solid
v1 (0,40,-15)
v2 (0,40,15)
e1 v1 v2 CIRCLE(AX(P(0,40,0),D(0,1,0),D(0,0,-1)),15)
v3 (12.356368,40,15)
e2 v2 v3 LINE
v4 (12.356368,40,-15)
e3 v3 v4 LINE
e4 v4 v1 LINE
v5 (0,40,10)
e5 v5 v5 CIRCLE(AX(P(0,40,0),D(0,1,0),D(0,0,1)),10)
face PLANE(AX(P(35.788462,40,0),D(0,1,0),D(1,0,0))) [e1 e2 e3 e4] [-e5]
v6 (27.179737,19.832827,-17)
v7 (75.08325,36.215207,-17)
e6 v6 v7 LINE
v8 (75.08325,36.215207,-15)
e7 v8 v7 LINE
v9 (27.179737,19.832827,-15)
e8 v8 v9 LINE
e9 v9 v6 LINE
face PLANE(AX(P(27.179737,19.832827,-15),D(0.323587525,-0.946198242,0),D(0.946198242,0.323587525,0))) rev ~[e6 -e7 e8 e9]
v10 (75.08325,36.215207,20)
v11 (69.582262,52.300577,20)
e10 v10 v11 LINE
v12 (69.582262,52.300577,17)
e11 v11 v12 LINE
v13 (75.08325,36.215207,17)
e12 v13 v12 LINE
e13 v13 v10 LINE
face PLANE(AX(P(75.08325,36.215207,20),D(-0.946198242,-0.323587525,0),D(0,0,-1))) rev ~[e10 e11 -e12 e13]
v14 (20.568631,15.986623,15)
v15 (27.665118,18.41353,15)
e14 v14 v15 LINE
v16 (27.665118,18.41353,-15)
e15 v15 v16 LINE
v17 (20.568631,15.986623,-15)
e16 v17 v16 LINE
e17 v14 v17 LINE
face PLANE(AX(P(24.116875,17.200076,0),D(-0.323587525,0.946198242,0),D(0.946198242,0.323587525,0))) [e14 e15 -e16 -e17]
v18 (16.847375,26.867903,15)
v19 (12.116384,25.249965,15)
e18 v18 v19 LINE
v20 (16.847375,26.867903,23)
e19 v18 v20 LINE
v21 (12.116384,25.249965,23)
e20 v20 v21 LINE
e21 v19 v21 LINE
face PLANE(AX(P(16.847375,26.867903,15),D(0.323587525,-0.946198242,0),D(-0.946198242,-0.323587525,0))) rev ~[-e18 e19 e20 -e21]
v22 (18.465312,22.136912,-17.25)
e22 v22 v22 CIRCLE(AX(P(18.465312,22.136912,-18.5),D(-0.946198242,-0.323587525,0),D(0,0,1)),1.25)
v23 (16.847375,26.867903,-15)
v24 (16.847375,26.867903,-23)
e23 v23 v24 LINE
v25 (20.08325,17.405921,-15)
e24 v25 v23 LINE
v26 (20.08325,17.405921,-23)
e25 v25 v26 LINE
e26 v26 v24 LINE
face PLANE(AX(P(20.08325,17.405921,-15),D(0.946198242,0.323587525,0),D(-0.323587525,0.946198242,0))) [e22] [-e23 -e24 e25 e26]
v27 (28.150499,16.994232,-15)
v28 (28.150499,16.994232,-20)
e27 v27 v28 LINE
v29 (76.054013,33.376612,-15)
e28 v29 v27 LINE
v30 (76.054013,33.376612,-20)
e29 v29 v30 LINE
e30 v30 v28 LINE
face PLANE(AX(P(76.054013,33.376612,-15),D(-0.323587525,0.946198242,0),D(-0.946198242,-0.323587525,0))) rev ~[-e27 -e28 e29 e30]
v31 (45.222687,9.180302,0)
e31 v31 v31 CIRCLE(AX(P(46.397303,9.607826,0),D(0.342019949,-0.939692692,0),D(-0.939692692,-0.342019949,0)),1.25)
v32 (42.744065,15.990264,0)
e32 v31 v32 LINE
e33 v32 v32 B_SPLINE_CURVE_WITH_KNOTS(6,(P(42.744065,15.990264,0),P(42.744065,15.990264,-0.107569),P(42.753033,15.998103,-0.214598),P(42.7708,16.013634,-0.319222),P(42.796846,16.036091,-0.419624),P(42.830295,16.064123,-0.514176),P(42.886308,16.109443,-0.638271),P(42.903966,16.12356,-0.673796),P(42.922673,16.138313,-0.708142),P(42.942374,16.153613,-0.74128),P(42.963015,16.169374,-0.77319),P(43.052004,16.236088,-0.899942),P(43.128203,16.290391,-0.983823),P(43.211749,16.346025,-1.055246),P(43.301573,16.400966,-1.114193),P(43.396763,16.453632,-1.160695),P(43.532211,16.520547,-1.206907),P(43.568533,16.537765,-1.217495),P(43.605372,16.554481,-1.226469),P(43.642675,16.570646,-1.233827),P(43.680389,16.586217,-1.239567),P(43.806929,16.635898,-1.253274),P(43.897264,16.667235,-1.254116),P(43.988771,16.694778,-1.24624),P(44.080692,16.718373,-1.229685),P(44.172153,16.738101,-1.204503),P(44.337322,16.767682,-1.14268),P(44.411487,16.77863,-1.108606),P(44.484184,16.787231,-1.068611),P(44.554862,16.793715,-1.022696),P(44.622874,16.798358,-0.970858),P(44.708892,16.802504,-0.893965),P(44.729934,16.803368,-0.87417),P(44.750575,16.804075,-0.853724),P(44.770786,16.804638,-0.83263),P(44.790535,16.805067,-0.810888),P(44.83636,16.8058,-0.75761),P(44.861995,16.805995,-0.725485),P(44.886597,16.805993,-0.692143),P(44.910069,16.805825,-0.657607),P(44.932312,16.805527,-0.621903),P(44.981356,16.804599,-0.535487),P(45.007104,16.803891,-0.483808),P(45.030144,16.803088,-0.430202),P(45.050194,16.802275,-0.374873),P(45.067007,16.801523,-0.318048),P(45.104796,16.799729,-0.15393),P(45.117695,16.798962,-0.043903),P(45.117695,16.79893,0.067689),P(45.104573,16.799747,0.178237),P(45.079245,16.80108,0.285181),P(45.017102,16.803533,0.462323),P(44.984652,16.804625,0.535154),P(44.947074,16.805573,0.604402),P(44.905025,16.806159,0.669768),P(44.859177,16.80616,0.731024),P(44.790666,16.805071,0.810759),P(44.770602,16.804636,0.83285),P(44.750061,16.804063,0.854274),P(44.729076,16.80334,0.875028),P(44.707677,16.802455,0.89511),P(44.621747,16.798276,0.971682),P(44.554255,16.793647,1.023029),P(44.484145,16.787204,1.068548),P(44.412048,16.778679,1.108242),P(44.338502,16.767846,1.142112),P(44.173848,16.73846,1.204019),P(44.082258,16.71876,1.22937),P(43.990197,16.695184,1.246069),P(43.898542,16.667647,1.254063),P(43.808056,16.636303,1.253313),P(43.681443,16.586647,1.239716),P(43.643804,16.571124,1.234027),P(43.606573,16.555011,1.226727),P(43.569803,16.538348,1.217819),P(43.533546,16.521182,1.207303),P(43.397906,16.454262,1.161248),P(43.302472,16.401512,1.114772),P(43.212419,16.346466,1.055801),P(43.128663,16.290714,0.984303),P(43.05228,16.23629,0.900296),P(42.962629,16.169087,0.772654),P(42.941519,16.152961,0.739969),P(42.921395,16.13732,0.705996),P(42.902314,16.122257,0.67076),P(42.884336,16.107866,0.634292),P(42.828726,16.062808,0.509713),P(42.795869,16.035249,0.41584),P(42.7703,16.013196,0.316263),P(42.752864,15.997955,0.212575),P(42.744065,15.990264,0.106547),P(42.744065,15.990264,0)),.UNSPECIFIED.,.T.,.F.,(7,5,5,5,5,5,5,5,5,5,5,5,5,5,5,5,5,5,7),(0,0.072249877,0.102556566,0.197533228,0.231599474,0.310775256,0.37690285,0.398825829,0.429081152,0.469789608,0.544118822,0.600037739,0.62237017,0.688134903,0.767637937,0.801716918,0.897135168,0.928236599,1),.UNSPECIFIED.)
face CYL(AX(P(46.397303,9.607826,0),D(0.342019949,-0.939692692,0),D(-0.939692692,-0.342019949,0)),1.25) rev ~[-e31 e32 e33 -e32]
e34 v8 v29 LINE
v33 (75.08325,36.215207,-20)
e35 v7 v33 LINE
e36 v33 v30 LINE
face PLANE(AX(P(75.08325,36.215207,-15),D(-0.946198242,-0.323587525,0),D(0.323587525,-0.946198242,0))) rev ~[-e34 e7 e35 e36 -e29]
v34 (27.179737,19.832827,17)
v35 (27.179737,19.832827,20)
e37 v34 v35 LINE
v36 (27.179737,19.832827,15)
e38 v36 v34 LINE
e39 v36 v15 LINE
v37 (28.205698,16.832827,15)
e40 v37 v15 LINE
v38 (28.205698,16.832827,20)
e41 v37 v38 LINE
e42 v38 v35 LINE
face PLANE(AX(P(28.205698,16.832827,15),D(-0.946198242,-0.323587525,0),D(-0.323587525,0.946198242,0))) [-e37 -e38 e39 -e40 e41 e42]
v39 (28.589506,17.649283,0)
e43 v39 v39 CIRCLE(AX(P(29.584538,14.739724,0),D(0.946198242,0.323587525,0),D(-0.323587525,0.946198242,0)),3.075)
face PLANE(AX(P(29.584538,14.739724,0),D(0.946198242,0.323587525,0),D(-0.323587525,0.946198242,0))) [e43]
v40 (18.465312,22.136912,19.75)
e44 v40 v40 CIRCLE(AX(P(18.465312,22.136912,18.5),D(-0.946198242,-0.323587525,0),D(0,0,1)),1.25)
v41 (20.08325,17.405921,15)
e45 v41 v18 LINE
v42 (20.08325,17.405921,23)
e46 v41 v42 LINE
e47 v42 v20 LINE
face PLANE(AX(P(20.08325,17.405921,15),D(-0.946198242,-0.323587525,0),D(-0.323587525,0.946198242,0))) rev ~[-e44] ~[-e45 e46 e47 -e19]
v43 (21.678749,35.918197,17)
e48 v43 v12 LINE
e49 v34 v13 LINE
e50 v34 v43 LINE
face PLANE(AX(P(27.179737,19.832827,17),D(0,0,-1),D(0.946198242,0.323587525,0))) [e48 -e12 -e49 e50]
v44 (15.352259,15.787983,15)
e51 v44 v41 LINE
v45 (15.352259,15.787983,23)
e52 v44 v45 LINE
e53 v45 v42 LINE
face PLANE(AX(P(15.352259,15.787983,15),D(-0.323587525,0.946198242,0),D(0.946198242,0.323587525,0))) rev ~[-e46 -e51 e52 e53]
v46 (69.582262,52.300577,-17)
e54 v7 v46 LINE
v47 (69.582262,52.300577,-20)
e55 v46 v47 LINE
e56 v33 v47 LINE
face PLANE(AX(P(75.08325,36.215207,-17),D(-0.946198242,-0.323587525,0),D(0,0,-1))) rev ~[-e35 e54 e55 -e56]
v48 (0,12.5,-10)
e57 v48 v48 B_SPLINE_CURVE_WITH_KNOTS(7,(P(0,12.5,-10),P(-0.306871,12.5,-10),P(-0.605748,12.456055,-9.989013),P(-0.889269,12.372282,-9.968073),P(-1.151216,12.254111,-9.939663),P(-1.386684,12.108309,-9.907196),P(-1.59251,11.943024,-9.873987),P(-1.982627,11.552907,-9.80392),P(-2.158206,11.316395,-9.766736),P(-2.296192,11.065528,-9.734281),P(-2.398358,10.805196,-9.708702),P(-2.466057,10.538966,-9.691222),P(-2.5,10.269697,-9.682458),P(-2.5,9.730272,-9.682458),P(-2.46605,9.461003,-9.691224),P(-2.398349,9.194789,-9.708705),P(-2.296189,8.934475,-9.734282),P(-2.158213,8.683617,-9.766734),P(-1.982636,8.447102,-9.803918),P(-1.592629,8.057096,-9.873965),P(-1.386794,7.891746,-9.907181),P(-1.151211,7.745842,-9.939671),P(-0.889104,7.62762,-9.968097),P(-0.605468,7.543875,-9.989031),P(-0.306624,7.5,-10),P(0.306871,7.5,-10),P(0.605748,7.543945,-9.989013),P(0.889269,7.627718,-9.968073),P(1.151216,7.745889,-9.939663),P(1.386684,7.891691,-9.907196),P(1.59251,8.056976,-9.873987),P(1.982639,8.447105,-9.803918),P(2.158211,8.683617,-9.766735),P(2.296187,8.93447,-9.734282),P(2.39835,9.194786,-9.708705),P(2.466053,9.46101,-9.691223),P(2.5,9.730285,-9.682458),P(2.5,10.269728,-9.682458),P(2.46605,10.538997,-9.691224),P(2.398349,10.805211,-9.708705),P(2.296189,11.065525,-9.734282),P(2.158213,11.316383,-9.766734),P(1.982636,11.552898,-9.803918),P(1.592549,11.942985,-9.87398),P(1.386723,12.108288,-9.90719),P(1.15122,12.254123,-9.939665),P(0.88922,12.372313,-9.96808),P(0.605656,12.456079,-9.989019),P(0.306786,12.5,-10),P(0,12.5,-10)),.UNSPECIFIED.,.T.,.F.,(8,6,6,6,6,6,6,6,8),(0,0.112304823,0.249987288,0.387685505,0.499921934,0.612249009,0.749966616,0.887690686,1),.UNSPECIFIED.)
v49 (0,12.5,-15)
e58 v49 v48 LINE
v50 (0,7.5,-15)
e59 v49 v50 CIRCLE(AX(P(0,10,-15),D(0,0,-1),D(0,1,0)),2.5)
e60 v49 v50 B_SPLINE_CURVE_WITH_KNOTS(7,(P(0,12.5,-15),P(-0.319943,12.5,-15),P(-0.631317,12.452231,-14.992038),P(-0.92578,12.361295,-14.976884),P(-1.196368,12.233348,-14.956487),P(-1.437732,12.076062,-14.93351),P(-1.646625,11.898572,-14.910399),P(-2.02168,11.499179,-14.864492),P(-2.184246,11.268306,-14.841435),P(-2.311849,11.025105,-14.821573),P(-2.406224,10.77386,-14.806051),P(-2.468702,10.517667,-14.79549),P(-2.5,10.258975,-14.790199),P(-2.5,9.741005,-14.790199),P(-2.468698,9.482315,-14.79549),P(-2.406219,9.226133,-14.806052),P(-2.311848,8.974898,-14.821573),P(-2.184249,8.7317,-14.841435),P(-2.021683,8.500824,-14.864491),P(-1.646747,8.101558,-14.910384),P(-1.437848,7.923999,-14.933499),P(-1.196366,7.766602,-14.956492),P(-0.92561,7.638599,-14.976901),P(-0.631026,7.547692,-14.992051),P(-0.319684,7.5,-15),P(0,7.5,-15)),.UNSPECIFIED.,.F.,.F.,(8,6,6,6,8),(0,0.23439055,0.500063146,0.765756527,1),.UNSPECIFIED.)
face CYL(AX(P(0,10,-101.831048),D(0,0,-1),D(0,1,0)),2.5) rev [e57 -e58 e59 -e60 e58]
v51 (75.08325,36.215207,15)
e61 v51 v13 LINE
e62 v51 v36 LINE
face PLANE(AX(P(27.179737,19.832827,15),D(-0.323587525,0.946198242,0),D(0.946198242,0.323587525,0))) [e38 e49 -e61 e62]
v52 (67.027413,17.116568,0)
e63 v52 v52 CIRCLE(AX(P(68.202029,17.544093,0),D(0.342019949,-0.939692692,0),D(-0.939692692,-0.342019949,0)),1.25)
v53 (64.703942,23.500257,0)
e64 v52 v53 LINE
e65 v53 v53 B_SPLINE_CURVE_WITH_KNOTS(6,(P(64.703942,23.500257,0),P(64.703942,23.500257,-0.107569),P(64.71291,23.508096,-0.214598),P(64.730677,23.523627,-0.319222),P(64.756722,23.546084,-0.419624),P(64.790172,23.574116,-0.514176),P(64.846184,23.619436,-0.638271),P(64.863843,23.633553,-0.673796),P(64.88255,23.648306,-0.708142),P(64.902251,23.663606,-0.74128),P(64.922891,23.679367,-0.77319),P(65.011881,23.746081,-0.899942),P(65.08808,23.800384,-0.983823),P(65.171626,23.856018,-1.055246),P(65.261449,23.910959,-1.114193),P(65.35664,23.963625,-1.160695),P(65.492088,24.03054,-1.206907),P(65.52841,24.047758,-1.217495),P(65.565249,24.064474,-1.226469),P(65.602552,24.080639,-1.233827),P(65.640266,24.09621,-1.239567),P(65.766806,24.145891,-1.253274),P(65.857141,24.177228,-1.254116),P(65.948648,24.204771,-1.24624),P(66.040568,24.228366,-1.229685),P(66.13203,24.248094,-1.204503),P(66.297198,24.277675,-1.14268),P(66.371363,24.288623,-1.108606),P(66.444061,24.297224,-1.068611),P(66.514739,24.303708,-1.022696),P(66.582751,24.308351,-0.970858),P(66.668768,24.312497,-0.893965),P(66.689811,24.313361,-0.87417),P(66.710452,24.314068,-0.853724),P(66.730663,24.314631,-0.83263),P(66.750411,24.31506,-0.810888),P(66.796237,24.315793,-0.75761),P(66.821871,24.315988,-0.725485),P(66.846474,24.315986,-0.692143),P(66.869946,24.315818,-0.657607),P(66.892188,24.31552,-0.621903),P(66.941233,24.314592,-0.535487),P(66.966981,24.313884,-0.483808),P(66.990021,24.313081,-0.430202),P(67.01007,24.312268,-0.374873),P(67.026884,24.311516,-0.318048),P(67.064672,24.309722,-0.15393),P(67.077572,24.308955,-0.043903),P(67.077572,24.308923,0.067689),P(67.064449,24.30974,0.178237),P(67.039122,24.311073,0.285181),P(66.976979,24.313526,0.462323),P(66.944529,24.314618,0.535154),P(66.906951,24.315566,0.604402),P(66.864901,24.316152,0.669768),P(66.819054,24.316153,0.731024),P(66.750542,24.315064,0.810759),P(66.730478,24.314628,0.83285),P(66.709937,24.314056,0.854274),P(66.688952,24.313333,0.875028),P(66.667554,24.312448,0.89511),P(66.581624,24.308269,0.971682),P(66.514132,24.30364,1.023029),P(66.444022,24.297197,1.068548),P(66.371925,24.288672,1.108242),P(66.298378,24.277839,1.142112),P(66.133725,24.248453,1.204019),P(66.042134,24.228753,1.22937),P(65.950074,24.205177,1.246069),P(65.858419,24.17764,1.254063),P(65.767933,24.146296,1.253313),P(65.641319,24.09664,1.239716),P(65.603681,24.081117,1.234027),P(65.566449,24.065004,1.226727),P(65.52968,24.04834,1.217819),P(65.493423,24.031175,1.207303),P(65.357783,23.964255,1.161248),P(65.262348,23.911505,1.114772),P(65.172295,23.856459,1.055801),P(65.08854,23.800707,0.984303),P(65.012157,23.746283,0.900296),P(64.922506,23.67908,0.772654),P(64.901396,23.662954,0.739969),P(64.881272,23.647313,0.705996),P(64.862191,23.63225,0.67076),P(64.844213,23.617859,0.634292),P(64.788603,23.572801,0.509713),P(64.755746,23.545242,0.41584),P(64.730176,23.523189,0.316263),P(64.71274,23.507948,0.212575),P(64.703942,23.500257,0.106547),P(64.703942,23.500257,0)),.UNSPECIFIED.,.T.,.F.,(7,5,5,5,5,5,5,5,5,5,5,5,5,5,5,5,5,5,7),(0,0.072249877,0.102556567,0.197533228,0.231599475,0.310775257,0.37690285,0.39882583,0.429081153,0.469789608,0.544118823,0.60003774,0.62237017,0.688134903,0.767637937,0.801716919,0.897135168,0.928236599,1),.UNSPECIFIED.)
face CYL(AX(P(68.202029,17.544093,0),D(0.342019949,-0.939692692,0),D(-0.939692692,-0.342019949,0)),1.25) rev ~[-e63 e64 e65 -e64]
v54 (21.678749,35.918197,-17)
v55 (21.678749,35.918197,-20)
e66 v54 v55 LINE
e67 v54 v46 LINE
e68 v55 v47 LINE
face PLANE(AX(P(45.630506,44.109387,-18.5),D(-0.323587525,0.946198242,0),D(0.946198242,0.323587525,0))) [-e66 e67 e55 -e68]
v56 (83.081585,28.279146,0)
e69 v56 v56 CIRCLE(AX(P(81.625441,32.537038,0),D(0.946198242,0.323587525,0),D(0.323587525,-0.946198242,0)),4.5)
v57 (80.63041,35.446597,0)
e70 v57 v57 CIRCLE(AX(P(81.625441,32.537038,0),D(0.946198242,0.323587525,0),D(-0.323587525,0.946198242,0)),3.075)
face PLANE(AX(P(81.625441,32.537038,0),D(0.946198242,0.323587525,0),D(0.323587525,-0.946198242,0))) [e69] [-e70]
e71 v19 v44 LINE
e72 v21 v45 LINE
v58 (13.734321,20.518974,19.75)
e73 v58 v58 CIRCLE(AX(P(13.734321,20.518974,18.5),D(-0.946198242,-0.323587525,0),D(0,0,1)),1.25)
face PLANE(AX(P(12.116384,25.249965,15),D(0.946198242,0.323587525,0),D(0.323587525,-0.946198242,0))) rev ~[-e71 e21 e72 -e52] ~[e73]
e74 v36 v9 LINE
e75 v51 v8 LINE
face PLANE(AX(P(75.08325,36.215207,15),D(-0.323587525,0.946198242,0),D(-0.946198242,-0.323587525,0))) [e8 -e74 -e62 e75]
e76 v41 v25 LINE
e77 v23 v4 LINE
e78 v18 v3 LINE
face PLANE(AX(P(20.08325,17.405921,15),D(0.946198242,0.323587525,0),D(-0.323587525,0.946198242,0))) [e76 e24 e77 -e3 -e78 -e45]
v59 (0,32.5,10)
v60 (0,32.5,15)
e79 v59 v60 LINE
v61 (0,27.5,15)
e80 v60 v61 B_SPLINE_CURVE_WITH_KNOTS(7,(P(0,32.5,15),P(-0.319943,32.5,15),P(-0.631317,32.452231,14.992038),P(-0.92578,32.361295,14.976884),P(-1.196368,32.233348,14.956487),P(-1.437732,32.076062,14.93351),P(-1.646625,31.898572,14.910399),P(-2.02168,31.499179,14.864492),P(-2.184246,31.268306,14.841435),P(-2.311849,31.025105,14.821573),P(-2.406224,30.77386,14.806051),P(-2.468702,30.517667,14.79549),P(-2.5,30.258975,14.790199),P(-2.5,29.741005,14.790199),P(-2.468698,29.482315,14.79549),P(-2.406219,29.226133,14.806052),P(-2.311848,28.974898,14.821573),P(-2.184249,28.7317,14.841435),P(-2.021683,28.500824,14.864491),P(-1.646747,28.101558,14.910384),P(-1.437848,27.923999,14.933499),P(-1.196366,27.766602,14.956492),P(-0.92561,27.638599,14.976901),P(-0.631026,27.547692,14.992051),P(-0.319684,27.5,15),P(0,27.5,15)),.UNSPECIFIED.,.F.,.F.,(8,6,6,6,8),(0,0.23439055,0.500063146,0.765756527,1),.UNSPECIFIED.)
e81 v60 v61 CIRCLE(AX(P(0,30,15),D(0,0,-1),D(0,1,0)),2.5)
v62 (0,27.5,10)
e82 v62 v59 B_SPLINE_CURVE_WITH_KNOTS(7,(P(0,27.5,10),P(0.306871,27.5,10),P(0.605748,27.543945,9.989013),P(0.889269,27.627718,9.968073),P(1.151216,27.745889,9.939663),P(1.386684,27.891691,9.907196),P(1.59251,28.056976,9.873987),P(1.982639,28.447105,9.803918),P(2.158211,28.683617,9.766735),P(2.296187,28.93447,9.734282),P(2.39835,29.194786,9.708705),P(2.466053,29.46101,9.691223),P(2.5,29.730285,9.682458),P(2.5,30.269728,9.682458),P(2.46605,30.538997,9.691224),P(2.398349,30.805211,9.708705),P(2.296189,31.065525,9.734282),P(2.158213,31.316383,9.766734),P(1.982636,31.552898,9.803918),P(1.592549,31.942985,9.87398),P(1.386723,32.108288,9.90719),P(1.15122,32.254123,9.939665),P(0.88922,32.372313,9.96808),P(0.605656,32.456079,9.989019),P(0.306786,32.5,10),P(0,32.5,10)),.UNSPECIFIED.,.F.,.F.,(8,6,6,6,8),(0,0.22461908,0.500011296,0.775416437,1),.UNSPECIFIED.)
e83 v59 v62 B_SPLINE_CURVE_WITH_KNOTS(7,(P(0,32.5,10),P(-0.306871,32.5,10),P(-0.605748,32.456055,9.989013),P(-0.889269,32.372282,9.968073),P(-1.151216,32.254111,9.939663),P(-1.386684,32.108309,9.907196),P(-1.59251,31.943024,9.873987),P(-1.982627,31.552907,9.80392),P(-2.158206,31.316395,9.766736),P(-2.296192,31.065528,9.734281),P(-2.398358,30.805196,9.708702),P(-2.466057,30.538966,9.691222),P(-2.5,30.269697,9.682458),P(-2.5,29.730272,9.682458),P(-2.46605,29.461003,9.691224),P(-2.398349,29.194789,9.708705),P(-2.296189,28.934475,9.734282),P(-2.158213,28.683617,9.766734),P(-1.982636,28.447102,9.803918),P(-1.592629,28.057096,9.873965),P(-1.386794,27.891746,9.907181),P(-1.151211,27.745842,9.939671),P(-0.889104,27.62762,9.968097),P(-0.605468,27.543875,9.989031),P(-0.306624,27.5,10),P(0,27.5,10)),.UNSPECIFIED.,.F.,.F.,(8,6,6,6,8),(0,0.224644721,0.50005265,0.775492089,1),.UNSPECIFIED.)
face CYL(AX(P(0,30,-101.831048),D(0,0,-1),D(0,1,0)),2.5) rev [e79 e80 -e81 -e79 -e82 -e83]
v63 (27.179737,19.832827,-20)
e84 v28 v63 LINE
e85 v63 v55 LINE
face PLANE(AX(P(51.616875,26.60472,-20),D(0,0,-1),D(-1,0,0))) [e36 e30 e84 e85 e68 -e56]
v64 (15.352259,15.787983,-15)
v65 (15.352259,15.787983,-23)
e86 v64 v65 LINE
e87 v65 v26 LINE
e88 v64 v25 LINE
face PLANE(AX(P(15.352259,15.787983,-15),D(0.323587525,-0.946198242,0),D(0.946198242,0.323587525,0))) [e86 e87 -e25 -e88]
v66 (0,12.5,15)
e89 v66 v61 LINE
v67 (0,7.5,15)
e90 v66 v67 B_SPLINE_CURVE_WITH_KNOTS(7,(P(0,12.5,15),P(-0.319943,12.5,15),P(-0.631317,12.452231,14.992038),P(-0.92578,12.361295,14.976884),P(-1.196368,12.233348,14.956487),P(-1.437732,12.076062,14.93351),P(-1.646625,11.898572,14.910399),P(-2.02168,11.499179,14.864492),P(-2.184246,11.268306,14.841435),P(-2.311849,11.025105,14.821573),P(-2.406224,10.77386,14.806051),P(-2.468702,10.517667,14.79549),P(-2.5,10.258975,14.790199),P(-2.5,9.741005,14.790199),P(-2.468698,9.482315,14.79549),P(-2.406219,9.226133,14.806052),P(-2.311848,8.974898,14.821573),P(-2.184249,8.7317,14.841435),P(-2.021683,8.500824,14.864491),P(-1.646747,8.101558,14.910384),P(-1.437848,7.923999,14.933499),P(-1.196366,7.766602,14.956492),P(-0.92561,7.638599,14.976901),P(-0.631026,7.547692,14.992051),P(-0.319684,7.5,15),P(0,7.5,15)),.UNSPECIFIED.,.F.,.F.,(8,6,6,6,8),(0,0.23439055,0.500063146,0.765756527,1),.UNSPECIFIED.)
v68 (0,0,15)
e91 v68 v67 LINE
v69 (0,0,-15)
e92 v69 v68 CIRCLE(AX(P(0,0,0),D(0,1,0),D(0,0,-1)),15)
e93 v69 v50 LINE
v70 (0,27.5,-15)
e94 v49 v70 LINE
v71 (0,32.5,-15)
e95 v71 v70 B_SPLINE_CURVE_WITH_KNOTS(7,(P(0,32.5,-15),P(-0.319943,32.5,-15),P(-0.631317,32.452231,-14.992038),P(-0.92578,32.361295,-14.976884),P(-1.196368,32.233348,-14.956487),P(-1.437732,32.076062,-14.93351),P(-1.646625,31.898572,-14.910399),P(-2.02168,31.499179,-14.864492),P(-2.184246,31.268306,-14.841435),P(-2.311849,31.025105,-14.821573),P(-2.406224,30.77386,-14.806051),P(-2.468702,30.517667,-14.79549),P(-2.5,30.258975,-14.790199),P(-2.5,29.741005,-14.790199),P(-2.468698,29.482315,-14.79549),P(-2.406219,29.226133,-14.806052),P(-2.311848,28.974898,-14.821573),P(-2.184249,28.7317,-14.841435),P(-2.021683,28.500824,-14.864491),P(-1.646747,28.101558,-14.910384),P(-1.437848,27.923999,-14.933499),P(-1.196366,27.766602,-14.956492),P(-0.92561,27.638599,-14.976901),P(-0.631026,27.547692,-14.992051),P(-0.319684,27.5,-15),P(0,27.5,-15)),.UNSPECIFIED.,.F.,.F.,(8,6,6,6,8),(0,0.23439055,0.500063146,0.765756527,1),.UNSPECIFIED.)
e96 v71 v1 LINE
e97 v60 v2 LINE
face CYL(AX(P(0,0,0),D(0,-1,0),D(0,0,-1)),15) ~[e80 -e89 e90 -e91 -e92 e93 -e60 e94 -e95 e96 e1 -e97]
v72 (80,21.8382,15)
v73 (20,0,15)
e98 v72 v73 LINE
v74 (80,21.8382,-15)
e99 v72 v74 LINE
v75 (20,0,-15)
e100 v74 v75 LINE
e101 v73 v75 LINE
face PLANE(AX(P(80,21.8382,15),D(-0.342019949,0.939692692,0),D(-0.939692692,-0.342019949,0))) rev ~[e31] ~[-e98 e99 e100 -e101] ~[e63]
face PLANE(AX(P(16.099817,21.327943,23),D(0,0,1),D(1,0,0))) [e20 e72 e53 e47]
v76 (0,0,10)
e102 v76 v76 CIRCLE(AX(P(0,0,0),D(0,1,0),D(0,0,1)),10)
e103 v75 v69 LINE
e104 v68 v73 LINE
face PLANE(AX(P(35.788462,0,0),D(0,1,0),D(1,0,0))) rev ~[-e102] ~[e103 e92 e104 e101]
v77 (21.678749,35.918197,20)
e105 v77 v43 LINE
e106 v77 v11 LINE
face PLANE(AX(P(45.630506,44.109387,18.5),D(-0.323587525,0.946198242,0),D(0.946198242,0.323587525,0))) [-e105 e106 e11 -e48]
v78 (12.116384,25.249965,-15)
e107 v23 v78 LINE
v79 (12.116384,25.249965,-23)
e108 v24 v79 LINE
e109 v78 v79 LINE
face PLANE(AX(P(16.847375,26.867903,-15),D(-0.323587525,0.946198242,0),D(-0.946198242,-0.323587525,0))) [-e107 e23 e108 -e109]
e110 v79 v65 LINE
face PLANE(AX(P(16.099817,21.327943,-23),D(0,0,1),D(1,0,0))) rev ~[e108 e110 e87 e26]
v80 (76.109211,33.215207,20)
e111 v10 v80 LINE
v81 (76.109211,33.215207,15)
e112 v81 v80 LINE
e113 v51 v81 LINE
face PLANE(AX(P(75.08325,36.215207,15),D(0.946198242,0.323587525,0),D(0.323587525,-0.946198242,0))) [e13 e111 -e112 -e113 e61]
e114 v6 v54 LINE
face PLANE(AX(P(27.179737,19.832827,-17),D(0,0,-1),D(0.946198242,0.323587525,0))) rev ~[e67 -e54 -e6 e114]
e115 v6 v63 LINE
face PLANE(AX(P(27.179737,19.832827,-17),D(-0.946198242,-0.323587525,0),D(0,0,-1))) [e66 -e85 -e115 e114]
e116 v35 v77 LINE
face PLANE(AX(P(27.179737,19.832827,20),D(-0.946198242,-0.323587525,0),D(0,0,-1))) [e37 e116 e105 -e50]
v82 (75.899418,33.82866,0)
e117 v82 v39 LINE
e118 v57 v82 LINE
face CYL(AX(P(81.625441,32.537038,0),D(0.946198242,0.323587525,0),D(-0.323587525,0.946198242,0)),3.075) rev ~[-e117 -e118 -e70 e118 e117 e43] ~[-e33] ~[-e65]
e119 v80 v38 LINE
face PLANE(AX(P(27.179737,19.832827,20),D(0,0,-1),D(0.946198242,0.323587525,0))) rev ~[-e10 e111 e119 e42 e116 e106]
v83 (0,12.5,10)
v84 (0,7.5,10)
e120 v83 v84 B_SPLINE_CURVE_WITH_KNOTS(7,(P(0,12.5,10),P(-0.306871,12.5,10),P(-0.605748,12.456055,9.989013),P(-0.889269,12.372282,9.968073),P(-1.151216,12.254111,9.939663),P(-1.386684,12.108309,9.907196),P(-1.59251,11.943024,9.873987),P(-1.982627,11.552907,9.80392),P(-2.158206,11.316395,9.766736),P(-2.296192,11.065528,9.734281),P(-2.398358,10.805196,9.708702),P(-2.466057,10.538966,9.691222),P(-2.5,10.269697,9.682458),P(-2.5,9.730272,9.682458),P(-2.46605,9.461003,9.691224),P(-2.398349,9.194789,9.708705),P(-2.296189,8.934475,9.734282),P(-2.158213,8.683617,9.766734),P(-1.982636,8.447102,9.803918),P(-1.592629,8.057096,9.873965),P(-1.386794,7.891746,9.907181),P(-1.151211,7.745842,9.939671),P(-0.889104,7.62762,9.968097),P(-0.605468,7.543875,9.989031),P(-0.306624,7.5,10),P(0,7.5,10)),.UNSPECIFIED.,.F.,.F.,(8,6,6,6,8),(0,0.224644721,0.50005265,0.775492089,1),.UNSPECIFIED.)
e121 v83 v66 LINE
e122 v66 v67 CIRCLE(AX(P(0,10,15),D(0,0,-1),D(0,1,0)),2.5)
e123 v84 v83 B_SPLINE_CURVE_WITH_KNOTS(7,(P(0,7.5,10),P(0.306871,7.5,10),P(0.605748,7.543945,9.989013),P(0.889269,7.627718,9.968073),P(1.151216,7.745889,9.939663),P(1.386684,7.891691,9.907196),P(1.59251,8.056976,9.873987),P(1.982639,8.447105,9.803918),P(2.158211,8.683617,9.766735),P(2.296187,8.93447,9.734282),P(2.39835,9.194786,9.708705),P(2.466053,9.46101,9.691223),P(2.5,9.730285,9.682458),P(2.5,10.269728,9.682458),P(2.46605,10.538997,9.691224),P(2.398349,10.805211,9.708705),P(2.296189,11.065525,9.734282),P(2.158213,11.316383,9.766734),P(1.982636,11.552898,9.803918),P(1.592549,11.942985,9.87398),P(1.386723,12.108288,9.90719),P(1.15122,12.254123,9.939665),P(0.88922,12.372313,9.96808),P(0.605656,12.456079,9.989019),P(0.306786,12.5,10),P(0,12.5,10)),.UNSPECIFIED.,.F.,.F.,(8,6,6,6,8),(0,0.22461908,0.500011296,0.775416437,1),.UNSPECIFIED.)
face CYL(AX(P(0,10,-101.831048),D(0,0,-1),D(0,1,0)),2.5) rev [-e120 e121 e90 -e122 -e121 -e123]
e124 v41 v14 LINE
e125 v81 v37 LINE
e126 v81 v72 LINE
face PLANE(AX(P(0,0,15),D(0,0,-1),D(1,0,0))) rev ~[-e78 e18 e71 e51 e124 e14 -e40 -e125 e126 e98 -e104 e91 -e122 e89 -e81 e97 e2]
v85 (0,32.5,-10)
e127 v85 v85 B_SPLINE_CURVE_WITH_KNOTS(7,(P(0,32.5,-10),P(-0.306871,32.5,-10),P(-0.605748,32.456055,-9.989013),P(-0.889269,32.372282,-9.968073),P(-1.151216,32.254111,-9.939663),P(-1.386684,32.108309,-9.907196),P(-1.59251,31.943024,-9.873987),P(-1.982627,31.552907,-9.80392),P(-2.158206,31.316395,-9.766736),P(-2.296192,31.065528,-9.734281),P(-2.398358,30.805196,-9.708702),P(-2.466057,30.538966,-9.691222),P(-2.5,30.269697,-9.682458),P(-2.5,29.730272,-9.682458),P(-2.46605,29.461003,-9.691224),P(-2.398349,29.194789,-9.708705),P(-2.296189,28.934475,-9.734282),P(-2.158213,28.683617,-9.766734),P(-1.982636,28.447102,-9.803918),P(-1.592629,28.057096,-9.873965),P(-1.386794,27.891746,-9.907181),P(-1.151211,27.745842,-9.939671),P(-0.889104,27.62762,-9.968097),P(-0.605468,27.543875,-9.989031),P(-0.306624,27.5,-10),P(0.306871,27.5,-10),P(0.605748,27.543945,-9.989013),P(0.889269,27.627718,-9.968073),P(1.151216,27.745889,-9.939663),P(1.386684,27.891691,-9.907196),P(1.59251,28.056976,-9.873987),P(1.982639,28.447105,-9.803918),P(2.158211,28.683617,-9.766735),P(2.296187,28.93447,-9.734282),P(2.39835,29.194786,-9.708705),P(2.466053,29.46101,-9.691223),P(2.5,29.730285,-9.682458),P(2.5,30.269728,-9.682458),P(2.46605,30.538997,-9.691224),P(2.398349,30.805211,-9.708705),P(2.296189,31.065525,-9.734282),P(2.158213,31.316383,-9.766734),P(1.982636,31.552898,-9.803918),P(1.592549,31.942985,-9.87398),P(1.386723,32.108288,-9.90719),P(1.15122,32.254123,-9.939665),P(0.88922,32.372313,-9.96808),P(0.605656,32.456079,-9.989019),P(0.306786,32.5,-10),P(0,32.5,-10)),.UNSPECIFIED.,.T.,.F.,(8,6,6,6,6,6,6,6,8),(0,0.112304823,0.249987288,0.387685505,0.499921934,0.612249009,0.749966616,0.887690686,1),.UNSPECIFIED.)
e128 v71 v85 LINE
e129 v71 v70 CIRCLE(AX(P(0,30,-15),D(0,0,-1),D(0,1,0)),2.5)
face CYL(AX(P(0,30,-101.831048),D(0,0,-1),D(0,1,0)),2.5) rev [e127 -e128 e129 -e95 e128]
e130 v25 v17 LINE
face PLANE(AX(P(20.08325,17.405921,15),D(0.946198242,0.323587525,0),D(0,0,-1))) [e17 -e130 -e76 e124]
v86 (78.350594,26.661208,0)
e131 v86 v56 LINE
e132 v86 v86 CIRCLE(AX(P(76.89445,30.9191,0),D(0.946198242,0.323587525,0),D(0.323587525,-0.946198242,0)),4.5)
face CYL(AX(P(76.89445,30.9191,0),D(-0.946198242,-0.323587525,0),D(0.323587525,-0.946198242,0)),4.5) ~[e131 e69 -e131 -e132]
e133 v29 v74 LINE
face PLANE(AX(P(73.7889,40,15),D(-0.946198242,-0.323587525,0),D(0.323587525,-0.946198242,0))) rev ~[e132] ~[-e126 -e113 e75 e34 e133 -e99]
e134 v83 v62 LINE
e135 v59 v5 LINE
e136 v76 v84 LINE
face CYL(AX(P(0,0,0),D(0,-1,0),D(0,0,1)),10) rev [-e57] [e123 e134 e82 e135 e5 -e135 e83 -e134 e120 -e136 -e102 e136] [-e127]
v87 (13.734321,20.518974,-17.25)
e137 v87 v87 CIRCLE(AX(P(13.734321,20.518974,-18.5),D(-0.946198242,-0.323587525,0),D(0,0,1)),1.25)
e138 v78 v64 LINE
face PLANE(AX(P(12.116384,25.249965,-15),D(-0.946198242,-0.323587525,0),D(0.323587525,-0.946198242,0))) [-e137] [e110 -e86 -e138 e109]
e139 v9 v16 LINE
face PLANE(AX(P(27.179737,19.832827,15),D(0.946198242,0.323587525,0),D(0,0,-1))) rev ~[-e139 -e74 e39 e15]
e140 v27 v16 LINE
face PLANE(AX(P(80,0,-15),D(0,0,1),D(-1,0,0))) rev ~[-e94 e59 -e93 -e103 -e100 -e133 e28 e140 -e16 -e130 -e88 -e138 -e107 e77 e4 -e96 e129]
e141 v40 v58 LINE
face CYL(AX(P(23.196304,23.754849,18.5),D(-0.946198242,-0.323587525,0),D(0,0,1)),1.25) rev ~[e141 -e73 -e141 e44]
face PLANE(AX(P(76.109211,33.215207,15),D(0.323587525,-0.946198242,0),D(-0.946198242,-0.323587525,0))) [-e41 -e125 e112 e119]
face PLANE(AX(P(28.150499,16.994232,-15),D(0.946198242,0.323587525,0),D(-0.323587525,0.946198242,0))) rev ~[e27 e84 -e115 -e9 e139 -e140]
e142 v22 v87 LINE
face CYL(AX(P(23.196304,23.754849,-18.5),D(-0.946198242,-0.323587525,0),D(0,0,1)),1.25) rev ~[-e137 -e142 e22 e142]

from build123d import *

# Parameters (mm, degrees)
ESQUISSE1_R                  = 10
BOSS_EXTRU_1_DEPTH           = 40
ENL_V_MAT_EXTRU_1_DEPTH      = 95.339811321
ENL_V_MAT_EXTRU_2_DEPTH      = 95.339811321
ESQUISSE5_R                  = 3.075
ENL_V_MAT_EXTRU_3_DEPTH      = 50
ENL_V_MAT_EXTRU_4_DEPTH      = 95.339811321
TROU_TARAUD_M31_REACH        = 93.715
TROU_TARAUD_M31_BORE_R       = 1.25
BOSS_EXTRU_2_DEPTH           = 8
BOSS_EXTRU_3_DEPTH           = 8
ESQUISSE19_W                 = 7.5
ESQUISSE19_H                 = 30
ENL_V_MAT_EXTRU_5_DEPTH      = 1.5
BOSS_EXTRU_4_DEPTH           = 5
BOSS_EXTRU_5_DEPTH           = 5
ESQUISSE36_W                 = 50.627353798
ESQUISSE36_H                 = 3
BOSS_EXTRU_6_DEPTH           = 17
TROU_TARAUD_M35_D            = 2.5
TROU_TARAUD_M35_DEPTH        = 5
ESQUISSE40_R                 = 4.5
BOSS_EXTRU_8_DEPTH           = 5
ESQUISSE41_R                 = 3.075
ENL_V_MAT_EXTRU_7_DEPTH      = 5
ENL_V_MAT_EXTRU_8_DEPTH      = 101.831047543
ENL_V_MAT_EXTRU_8_DEPTH_BACK = 101.831047543
ESQUISSE42_R                 = 2.5


with BuildPart() as part:
    # Esquisse1 → Boss.-Extru.1 (new body)
    with BuildSketch(Plane(origin=(0, 0, 0), x_dir=(1, 0, 0), z_dir=(0, 1, 0))):
        with BuildLine():
            Line((0, -15), (80, -15))
            Line((80, -15), (80, 15))
            Line((80, 15), (0, 15))
            ThreePointArc((0, 15), (-15, 0), (0, -15))
        make_face()
        with Locations(Location((0, 0, 0), (0, 0, 270))):
            Circle(ESQUISSE1_R, mode=Mode.SUBTRACT)
    extrude(amount=BOSS_EXTRU_1_DEPTH)

    # Esquisse3 → Enlèv. mat.-Extru.1 (cut, through all)
    with BuildSketch(Plane.XY.offset(15)):
        Polygon((20, 0), (80, 0), (80, 21.8382), align=None)
    extrude(amount=-ENL_V_MAT_EXTRU_1_DEPTH, mode=Mode.SUBTRACT)

    # Esquisse4 → Enlèv. mat.-Extru.2 (cut, through all)
    with BuildSketch(Plane.XY.offset(15)):
        Polygon((80, 21.8382), (80, 40), (73.7889, 40), align=None)
    extrude(amount=-ENL_V_MAT_EXTRU_2_DEPTH, mode=Mode.SUBTRACT)

    # Esquisse5 → Enlèv. mat.-Extru.3 (cut)
    with BuildSketch(Plane(origin=(78.309664358, 26.780889355, 0), x_dir=(0, 0, -1), z_dir=(0.9461982424164683, 0.32358752455554646, 0))):
        with Locations(Location((0, 4.37351335, 0), (0, 0, 90))):
            Circle(ESQUISSE5_R)
    extrude(amount=-ENL_V_MAT_EXTRU_3_DEPTH, mode=Mode.SUBTRACT)

    # Esquisse6 → Enlèv. mat.-Extru.4 (cut, through all)
    with BuildSketch(Plane.XY.offset(15)):
        Polygon((75.083250098, 36.21520703), (20.083250098, 17.405920506), (12.356368008, 40), (73.7889, 40), align=None)
    extrude(amount=-ENL_V_MAT_EXTRU_4_DEPTH, mode=Mode.SUBTRACT)

    # Trou taraudé M31 bore → Trou taraudé M31 (cut, up to next)
    with BuildSketch(Plane(origin=(2.339552909, -6.427872928, 0), x_dir=(-0.9396926915369543, -0.3420199489387053, 0), z_dir=(0.3420199489387053, -0.9396926915369543, 0)), mode=Mode.PRIVATE) as trou_taraud_m31_sk1:
        with Locations((-46.885275043, 0)):
            Circle(TROU_TARAUD_M31_BORE_R)
    trou_taraud_m31_tool1 = extrude(trou_taraud_m31_sk1.sketch, amount=-TROU_TARAUD_M31_REACH, mode=Mode.PRIVATE) & part.part
    # Trou taraudé M31 bore → Trou taraudé M31 (cut, up to next)
    with BuildSketch(Plane(origin=(2.339552909, -6.427872928, 0), x_dir=(-0.9396926915369543, -0.3420199489387053, 0), z_dir=(0.3420199489387053, -0.9396926915369543, 0)), mode=Mode.PRIVATE) as trou_taraud_m31_sk2:
        with Locations((-70.089378087, 0)):
            Circle(TROU_TARAUD_M31_BORE_R)
    trou_taraud_m31_tool2 = extrude(trou_taraud_m31_sk2.sketch, amount=-TROU_TARAUD_M31_REACH, mode=Mode.PRIVATE) & part.part
    add(trou_taraud_m31_tool1.solids().sort_by_distance((46.397303, 9.607826, 0))[0], mode=Mode.SUBTRACT)
    add(trou_taraud_m31_tool2.solids().sort_by_distance((68.202029, 17.544093, 0))[0], mode=Mode.SUBTRACT)

    # Esquisse11 → Boss.-Extru.2 (add)
    with BuildSketch(Plane.XY.offset(15)):
        Polygon((20.083250098, 17.405920506), (16.847374853, 26.86790293), (12.116383641, 25.249965307), (15.352258886, 15.787982883), align=None)
    extrude(amount=BOSS_EXTRU_2_DEPTH)

    # Esquisse12 → Boss.-Extru.3 (add)
    with BuildSketch(Plane(origin=(0, 0, -15), x_dir=(-1, 0, 0), z_dir=(0, 0, -1))):
        Polygon((-20.083250098, 17.405920506), (-16.847374853, 26.86790293), (-12.116383641, 25.249965307), (-15.352258886, 15.787982883), align=None)
    extrude(amount=BOSS_EXTRU_3_DEPTH)

    # Esquisse19 → Enlèv. mat.-Extru.5 (cut)
    with BuildSketch(Plane(origin=(-3.22641426, 9.434317675, 0), x_dir=(0.9461982424164682, 0.3235875245555466, 0), z_dir=(-0.3235875245555466, 0.9461982424164682, 0))):
        with Locations((28.385074674, 0)):
            Rectangle(ESQUISSE19_W, ESQUISSE19_H)
    extrude(amount=-ENL_V_MAT_EXTRU_5_DEPTH, mode=Mode.SUBTRACT)

    # Esquisse34 → Boss.-Extru.4 (add)
    with BuildSketch(Plane.XY.offset(15)):
        Polygon((27.179736916, 19.83282694), (75.083250098, 36.21520703), (76.109211181, 33.21520703), (28.205697999, 16.83282694), align=None)
    extrude(amount=BOSS_EXTRU_4_DEPTH)

    # Esquisse35 → Boss.-Extru.5 (add)
    with BuildSketch(Plane(origin=(0, 0, -15), x_dir=(-1, 0, 0), z_dir=(0, 0, -1))):
        Polygon((-27.179736916, 19.83282694), (-75.083250098, 36.21520703), (-76.054012672, 33.376612303), (-28.15049949, 16.994232213), align=None)
    extrude(amount=BOSS_EXTRU_5_DEPTH)

    # Esquisse36 → Boss.-Extru.6 (add)
    with BuildSketch(Plane(origin=(-3.22641426, 9.434317675, 0), x_dir=(0.9461982424164682, 0.3235875245555466, 0), z_dir=(-0.3235875245555466, 0.9461982424164682, 0))):
        with Locations((57.448751573, -18.5)):
            Rectangle(ESQUISSE36_W, ESQUISSE36_H)
        with Locations((57.448751573, 18.5)):
            Rectangle(ESQUISSE36_W, ESQUISSE36_H)
    extrude(amount=BOSS_EXTRU_6_DEPTH)

    # Trou taraudé M35
    with Locations(Plane(origin=(23.309664358, 7.971602831, 0), x_dir=(0, 0, -1), z_dir=(0.9461982424164682, 0.3235875245555468, 0))):
        with Locations((-18.5, 14.970762206), (18.5, 14.970762206)):
            Hole(TROU_TARAUD_M35_D / 2, depth=TROU_TARAUD_M35_DEPTH)

    # Esquisse40 → Boss.-Extru.8 (add)
    with BuildSketch(Plane(origin=(78.309664358, 26.780889355, 0), x_dir=(0, 0, -1), z_dir=(0.9461982424164683, 0.32358752455554646, 0))):
        with Locations(Location((0, 4.37351335, 0), (0, 0, 270))):
            Circle(ESQUISSE40_R)
    extrude(amount=BOSS_EXTRU_8_DEPTH)

    # Esquisse41 → Enlèv. mat.-Extru.7 (cut)
    with BuildSketch(Plane(origin=(83.04065557, 28.398826978, 0), x_dir=(0, 0, -1), z_dir=(0.9461982424164683, 0.32358752455554646, 0))):
        with Locations(Location((0, 4.37351335, 0), (0, 0, 90))):
            Circle(ESQUISSE41_R)
    extrude(amount=-ENL_V_MAT_EXTRU_7_DEPTH, mode=Mode.SUBTRACT)

    # Esquisse42 → Enlèv. mat.-Extru.8 (cut, two sides: drawn at the far end of the back side and taken through both)
    with BuildSketch(Plane.XY.offset(-ENL_V_MAT_EXTRU_8_DEPTH_BACK)):
        with Locations(Location((0, 30, 0), (0, 0, 90.000000004))):
            Circle(ESQUISSE42_R)
        with Locations(Location((0, 10, 0), (0, 0, 90.000000004))):
            Circle(ESQUISSE42_R)
    extrude(amount=ENL_V_MAT_EXTRU_8_DEPTH + ENL_V_MAT_EXTRU_8_DEPTH_BACK, mode=Mode.SUBTRACT)


solid = part.part
